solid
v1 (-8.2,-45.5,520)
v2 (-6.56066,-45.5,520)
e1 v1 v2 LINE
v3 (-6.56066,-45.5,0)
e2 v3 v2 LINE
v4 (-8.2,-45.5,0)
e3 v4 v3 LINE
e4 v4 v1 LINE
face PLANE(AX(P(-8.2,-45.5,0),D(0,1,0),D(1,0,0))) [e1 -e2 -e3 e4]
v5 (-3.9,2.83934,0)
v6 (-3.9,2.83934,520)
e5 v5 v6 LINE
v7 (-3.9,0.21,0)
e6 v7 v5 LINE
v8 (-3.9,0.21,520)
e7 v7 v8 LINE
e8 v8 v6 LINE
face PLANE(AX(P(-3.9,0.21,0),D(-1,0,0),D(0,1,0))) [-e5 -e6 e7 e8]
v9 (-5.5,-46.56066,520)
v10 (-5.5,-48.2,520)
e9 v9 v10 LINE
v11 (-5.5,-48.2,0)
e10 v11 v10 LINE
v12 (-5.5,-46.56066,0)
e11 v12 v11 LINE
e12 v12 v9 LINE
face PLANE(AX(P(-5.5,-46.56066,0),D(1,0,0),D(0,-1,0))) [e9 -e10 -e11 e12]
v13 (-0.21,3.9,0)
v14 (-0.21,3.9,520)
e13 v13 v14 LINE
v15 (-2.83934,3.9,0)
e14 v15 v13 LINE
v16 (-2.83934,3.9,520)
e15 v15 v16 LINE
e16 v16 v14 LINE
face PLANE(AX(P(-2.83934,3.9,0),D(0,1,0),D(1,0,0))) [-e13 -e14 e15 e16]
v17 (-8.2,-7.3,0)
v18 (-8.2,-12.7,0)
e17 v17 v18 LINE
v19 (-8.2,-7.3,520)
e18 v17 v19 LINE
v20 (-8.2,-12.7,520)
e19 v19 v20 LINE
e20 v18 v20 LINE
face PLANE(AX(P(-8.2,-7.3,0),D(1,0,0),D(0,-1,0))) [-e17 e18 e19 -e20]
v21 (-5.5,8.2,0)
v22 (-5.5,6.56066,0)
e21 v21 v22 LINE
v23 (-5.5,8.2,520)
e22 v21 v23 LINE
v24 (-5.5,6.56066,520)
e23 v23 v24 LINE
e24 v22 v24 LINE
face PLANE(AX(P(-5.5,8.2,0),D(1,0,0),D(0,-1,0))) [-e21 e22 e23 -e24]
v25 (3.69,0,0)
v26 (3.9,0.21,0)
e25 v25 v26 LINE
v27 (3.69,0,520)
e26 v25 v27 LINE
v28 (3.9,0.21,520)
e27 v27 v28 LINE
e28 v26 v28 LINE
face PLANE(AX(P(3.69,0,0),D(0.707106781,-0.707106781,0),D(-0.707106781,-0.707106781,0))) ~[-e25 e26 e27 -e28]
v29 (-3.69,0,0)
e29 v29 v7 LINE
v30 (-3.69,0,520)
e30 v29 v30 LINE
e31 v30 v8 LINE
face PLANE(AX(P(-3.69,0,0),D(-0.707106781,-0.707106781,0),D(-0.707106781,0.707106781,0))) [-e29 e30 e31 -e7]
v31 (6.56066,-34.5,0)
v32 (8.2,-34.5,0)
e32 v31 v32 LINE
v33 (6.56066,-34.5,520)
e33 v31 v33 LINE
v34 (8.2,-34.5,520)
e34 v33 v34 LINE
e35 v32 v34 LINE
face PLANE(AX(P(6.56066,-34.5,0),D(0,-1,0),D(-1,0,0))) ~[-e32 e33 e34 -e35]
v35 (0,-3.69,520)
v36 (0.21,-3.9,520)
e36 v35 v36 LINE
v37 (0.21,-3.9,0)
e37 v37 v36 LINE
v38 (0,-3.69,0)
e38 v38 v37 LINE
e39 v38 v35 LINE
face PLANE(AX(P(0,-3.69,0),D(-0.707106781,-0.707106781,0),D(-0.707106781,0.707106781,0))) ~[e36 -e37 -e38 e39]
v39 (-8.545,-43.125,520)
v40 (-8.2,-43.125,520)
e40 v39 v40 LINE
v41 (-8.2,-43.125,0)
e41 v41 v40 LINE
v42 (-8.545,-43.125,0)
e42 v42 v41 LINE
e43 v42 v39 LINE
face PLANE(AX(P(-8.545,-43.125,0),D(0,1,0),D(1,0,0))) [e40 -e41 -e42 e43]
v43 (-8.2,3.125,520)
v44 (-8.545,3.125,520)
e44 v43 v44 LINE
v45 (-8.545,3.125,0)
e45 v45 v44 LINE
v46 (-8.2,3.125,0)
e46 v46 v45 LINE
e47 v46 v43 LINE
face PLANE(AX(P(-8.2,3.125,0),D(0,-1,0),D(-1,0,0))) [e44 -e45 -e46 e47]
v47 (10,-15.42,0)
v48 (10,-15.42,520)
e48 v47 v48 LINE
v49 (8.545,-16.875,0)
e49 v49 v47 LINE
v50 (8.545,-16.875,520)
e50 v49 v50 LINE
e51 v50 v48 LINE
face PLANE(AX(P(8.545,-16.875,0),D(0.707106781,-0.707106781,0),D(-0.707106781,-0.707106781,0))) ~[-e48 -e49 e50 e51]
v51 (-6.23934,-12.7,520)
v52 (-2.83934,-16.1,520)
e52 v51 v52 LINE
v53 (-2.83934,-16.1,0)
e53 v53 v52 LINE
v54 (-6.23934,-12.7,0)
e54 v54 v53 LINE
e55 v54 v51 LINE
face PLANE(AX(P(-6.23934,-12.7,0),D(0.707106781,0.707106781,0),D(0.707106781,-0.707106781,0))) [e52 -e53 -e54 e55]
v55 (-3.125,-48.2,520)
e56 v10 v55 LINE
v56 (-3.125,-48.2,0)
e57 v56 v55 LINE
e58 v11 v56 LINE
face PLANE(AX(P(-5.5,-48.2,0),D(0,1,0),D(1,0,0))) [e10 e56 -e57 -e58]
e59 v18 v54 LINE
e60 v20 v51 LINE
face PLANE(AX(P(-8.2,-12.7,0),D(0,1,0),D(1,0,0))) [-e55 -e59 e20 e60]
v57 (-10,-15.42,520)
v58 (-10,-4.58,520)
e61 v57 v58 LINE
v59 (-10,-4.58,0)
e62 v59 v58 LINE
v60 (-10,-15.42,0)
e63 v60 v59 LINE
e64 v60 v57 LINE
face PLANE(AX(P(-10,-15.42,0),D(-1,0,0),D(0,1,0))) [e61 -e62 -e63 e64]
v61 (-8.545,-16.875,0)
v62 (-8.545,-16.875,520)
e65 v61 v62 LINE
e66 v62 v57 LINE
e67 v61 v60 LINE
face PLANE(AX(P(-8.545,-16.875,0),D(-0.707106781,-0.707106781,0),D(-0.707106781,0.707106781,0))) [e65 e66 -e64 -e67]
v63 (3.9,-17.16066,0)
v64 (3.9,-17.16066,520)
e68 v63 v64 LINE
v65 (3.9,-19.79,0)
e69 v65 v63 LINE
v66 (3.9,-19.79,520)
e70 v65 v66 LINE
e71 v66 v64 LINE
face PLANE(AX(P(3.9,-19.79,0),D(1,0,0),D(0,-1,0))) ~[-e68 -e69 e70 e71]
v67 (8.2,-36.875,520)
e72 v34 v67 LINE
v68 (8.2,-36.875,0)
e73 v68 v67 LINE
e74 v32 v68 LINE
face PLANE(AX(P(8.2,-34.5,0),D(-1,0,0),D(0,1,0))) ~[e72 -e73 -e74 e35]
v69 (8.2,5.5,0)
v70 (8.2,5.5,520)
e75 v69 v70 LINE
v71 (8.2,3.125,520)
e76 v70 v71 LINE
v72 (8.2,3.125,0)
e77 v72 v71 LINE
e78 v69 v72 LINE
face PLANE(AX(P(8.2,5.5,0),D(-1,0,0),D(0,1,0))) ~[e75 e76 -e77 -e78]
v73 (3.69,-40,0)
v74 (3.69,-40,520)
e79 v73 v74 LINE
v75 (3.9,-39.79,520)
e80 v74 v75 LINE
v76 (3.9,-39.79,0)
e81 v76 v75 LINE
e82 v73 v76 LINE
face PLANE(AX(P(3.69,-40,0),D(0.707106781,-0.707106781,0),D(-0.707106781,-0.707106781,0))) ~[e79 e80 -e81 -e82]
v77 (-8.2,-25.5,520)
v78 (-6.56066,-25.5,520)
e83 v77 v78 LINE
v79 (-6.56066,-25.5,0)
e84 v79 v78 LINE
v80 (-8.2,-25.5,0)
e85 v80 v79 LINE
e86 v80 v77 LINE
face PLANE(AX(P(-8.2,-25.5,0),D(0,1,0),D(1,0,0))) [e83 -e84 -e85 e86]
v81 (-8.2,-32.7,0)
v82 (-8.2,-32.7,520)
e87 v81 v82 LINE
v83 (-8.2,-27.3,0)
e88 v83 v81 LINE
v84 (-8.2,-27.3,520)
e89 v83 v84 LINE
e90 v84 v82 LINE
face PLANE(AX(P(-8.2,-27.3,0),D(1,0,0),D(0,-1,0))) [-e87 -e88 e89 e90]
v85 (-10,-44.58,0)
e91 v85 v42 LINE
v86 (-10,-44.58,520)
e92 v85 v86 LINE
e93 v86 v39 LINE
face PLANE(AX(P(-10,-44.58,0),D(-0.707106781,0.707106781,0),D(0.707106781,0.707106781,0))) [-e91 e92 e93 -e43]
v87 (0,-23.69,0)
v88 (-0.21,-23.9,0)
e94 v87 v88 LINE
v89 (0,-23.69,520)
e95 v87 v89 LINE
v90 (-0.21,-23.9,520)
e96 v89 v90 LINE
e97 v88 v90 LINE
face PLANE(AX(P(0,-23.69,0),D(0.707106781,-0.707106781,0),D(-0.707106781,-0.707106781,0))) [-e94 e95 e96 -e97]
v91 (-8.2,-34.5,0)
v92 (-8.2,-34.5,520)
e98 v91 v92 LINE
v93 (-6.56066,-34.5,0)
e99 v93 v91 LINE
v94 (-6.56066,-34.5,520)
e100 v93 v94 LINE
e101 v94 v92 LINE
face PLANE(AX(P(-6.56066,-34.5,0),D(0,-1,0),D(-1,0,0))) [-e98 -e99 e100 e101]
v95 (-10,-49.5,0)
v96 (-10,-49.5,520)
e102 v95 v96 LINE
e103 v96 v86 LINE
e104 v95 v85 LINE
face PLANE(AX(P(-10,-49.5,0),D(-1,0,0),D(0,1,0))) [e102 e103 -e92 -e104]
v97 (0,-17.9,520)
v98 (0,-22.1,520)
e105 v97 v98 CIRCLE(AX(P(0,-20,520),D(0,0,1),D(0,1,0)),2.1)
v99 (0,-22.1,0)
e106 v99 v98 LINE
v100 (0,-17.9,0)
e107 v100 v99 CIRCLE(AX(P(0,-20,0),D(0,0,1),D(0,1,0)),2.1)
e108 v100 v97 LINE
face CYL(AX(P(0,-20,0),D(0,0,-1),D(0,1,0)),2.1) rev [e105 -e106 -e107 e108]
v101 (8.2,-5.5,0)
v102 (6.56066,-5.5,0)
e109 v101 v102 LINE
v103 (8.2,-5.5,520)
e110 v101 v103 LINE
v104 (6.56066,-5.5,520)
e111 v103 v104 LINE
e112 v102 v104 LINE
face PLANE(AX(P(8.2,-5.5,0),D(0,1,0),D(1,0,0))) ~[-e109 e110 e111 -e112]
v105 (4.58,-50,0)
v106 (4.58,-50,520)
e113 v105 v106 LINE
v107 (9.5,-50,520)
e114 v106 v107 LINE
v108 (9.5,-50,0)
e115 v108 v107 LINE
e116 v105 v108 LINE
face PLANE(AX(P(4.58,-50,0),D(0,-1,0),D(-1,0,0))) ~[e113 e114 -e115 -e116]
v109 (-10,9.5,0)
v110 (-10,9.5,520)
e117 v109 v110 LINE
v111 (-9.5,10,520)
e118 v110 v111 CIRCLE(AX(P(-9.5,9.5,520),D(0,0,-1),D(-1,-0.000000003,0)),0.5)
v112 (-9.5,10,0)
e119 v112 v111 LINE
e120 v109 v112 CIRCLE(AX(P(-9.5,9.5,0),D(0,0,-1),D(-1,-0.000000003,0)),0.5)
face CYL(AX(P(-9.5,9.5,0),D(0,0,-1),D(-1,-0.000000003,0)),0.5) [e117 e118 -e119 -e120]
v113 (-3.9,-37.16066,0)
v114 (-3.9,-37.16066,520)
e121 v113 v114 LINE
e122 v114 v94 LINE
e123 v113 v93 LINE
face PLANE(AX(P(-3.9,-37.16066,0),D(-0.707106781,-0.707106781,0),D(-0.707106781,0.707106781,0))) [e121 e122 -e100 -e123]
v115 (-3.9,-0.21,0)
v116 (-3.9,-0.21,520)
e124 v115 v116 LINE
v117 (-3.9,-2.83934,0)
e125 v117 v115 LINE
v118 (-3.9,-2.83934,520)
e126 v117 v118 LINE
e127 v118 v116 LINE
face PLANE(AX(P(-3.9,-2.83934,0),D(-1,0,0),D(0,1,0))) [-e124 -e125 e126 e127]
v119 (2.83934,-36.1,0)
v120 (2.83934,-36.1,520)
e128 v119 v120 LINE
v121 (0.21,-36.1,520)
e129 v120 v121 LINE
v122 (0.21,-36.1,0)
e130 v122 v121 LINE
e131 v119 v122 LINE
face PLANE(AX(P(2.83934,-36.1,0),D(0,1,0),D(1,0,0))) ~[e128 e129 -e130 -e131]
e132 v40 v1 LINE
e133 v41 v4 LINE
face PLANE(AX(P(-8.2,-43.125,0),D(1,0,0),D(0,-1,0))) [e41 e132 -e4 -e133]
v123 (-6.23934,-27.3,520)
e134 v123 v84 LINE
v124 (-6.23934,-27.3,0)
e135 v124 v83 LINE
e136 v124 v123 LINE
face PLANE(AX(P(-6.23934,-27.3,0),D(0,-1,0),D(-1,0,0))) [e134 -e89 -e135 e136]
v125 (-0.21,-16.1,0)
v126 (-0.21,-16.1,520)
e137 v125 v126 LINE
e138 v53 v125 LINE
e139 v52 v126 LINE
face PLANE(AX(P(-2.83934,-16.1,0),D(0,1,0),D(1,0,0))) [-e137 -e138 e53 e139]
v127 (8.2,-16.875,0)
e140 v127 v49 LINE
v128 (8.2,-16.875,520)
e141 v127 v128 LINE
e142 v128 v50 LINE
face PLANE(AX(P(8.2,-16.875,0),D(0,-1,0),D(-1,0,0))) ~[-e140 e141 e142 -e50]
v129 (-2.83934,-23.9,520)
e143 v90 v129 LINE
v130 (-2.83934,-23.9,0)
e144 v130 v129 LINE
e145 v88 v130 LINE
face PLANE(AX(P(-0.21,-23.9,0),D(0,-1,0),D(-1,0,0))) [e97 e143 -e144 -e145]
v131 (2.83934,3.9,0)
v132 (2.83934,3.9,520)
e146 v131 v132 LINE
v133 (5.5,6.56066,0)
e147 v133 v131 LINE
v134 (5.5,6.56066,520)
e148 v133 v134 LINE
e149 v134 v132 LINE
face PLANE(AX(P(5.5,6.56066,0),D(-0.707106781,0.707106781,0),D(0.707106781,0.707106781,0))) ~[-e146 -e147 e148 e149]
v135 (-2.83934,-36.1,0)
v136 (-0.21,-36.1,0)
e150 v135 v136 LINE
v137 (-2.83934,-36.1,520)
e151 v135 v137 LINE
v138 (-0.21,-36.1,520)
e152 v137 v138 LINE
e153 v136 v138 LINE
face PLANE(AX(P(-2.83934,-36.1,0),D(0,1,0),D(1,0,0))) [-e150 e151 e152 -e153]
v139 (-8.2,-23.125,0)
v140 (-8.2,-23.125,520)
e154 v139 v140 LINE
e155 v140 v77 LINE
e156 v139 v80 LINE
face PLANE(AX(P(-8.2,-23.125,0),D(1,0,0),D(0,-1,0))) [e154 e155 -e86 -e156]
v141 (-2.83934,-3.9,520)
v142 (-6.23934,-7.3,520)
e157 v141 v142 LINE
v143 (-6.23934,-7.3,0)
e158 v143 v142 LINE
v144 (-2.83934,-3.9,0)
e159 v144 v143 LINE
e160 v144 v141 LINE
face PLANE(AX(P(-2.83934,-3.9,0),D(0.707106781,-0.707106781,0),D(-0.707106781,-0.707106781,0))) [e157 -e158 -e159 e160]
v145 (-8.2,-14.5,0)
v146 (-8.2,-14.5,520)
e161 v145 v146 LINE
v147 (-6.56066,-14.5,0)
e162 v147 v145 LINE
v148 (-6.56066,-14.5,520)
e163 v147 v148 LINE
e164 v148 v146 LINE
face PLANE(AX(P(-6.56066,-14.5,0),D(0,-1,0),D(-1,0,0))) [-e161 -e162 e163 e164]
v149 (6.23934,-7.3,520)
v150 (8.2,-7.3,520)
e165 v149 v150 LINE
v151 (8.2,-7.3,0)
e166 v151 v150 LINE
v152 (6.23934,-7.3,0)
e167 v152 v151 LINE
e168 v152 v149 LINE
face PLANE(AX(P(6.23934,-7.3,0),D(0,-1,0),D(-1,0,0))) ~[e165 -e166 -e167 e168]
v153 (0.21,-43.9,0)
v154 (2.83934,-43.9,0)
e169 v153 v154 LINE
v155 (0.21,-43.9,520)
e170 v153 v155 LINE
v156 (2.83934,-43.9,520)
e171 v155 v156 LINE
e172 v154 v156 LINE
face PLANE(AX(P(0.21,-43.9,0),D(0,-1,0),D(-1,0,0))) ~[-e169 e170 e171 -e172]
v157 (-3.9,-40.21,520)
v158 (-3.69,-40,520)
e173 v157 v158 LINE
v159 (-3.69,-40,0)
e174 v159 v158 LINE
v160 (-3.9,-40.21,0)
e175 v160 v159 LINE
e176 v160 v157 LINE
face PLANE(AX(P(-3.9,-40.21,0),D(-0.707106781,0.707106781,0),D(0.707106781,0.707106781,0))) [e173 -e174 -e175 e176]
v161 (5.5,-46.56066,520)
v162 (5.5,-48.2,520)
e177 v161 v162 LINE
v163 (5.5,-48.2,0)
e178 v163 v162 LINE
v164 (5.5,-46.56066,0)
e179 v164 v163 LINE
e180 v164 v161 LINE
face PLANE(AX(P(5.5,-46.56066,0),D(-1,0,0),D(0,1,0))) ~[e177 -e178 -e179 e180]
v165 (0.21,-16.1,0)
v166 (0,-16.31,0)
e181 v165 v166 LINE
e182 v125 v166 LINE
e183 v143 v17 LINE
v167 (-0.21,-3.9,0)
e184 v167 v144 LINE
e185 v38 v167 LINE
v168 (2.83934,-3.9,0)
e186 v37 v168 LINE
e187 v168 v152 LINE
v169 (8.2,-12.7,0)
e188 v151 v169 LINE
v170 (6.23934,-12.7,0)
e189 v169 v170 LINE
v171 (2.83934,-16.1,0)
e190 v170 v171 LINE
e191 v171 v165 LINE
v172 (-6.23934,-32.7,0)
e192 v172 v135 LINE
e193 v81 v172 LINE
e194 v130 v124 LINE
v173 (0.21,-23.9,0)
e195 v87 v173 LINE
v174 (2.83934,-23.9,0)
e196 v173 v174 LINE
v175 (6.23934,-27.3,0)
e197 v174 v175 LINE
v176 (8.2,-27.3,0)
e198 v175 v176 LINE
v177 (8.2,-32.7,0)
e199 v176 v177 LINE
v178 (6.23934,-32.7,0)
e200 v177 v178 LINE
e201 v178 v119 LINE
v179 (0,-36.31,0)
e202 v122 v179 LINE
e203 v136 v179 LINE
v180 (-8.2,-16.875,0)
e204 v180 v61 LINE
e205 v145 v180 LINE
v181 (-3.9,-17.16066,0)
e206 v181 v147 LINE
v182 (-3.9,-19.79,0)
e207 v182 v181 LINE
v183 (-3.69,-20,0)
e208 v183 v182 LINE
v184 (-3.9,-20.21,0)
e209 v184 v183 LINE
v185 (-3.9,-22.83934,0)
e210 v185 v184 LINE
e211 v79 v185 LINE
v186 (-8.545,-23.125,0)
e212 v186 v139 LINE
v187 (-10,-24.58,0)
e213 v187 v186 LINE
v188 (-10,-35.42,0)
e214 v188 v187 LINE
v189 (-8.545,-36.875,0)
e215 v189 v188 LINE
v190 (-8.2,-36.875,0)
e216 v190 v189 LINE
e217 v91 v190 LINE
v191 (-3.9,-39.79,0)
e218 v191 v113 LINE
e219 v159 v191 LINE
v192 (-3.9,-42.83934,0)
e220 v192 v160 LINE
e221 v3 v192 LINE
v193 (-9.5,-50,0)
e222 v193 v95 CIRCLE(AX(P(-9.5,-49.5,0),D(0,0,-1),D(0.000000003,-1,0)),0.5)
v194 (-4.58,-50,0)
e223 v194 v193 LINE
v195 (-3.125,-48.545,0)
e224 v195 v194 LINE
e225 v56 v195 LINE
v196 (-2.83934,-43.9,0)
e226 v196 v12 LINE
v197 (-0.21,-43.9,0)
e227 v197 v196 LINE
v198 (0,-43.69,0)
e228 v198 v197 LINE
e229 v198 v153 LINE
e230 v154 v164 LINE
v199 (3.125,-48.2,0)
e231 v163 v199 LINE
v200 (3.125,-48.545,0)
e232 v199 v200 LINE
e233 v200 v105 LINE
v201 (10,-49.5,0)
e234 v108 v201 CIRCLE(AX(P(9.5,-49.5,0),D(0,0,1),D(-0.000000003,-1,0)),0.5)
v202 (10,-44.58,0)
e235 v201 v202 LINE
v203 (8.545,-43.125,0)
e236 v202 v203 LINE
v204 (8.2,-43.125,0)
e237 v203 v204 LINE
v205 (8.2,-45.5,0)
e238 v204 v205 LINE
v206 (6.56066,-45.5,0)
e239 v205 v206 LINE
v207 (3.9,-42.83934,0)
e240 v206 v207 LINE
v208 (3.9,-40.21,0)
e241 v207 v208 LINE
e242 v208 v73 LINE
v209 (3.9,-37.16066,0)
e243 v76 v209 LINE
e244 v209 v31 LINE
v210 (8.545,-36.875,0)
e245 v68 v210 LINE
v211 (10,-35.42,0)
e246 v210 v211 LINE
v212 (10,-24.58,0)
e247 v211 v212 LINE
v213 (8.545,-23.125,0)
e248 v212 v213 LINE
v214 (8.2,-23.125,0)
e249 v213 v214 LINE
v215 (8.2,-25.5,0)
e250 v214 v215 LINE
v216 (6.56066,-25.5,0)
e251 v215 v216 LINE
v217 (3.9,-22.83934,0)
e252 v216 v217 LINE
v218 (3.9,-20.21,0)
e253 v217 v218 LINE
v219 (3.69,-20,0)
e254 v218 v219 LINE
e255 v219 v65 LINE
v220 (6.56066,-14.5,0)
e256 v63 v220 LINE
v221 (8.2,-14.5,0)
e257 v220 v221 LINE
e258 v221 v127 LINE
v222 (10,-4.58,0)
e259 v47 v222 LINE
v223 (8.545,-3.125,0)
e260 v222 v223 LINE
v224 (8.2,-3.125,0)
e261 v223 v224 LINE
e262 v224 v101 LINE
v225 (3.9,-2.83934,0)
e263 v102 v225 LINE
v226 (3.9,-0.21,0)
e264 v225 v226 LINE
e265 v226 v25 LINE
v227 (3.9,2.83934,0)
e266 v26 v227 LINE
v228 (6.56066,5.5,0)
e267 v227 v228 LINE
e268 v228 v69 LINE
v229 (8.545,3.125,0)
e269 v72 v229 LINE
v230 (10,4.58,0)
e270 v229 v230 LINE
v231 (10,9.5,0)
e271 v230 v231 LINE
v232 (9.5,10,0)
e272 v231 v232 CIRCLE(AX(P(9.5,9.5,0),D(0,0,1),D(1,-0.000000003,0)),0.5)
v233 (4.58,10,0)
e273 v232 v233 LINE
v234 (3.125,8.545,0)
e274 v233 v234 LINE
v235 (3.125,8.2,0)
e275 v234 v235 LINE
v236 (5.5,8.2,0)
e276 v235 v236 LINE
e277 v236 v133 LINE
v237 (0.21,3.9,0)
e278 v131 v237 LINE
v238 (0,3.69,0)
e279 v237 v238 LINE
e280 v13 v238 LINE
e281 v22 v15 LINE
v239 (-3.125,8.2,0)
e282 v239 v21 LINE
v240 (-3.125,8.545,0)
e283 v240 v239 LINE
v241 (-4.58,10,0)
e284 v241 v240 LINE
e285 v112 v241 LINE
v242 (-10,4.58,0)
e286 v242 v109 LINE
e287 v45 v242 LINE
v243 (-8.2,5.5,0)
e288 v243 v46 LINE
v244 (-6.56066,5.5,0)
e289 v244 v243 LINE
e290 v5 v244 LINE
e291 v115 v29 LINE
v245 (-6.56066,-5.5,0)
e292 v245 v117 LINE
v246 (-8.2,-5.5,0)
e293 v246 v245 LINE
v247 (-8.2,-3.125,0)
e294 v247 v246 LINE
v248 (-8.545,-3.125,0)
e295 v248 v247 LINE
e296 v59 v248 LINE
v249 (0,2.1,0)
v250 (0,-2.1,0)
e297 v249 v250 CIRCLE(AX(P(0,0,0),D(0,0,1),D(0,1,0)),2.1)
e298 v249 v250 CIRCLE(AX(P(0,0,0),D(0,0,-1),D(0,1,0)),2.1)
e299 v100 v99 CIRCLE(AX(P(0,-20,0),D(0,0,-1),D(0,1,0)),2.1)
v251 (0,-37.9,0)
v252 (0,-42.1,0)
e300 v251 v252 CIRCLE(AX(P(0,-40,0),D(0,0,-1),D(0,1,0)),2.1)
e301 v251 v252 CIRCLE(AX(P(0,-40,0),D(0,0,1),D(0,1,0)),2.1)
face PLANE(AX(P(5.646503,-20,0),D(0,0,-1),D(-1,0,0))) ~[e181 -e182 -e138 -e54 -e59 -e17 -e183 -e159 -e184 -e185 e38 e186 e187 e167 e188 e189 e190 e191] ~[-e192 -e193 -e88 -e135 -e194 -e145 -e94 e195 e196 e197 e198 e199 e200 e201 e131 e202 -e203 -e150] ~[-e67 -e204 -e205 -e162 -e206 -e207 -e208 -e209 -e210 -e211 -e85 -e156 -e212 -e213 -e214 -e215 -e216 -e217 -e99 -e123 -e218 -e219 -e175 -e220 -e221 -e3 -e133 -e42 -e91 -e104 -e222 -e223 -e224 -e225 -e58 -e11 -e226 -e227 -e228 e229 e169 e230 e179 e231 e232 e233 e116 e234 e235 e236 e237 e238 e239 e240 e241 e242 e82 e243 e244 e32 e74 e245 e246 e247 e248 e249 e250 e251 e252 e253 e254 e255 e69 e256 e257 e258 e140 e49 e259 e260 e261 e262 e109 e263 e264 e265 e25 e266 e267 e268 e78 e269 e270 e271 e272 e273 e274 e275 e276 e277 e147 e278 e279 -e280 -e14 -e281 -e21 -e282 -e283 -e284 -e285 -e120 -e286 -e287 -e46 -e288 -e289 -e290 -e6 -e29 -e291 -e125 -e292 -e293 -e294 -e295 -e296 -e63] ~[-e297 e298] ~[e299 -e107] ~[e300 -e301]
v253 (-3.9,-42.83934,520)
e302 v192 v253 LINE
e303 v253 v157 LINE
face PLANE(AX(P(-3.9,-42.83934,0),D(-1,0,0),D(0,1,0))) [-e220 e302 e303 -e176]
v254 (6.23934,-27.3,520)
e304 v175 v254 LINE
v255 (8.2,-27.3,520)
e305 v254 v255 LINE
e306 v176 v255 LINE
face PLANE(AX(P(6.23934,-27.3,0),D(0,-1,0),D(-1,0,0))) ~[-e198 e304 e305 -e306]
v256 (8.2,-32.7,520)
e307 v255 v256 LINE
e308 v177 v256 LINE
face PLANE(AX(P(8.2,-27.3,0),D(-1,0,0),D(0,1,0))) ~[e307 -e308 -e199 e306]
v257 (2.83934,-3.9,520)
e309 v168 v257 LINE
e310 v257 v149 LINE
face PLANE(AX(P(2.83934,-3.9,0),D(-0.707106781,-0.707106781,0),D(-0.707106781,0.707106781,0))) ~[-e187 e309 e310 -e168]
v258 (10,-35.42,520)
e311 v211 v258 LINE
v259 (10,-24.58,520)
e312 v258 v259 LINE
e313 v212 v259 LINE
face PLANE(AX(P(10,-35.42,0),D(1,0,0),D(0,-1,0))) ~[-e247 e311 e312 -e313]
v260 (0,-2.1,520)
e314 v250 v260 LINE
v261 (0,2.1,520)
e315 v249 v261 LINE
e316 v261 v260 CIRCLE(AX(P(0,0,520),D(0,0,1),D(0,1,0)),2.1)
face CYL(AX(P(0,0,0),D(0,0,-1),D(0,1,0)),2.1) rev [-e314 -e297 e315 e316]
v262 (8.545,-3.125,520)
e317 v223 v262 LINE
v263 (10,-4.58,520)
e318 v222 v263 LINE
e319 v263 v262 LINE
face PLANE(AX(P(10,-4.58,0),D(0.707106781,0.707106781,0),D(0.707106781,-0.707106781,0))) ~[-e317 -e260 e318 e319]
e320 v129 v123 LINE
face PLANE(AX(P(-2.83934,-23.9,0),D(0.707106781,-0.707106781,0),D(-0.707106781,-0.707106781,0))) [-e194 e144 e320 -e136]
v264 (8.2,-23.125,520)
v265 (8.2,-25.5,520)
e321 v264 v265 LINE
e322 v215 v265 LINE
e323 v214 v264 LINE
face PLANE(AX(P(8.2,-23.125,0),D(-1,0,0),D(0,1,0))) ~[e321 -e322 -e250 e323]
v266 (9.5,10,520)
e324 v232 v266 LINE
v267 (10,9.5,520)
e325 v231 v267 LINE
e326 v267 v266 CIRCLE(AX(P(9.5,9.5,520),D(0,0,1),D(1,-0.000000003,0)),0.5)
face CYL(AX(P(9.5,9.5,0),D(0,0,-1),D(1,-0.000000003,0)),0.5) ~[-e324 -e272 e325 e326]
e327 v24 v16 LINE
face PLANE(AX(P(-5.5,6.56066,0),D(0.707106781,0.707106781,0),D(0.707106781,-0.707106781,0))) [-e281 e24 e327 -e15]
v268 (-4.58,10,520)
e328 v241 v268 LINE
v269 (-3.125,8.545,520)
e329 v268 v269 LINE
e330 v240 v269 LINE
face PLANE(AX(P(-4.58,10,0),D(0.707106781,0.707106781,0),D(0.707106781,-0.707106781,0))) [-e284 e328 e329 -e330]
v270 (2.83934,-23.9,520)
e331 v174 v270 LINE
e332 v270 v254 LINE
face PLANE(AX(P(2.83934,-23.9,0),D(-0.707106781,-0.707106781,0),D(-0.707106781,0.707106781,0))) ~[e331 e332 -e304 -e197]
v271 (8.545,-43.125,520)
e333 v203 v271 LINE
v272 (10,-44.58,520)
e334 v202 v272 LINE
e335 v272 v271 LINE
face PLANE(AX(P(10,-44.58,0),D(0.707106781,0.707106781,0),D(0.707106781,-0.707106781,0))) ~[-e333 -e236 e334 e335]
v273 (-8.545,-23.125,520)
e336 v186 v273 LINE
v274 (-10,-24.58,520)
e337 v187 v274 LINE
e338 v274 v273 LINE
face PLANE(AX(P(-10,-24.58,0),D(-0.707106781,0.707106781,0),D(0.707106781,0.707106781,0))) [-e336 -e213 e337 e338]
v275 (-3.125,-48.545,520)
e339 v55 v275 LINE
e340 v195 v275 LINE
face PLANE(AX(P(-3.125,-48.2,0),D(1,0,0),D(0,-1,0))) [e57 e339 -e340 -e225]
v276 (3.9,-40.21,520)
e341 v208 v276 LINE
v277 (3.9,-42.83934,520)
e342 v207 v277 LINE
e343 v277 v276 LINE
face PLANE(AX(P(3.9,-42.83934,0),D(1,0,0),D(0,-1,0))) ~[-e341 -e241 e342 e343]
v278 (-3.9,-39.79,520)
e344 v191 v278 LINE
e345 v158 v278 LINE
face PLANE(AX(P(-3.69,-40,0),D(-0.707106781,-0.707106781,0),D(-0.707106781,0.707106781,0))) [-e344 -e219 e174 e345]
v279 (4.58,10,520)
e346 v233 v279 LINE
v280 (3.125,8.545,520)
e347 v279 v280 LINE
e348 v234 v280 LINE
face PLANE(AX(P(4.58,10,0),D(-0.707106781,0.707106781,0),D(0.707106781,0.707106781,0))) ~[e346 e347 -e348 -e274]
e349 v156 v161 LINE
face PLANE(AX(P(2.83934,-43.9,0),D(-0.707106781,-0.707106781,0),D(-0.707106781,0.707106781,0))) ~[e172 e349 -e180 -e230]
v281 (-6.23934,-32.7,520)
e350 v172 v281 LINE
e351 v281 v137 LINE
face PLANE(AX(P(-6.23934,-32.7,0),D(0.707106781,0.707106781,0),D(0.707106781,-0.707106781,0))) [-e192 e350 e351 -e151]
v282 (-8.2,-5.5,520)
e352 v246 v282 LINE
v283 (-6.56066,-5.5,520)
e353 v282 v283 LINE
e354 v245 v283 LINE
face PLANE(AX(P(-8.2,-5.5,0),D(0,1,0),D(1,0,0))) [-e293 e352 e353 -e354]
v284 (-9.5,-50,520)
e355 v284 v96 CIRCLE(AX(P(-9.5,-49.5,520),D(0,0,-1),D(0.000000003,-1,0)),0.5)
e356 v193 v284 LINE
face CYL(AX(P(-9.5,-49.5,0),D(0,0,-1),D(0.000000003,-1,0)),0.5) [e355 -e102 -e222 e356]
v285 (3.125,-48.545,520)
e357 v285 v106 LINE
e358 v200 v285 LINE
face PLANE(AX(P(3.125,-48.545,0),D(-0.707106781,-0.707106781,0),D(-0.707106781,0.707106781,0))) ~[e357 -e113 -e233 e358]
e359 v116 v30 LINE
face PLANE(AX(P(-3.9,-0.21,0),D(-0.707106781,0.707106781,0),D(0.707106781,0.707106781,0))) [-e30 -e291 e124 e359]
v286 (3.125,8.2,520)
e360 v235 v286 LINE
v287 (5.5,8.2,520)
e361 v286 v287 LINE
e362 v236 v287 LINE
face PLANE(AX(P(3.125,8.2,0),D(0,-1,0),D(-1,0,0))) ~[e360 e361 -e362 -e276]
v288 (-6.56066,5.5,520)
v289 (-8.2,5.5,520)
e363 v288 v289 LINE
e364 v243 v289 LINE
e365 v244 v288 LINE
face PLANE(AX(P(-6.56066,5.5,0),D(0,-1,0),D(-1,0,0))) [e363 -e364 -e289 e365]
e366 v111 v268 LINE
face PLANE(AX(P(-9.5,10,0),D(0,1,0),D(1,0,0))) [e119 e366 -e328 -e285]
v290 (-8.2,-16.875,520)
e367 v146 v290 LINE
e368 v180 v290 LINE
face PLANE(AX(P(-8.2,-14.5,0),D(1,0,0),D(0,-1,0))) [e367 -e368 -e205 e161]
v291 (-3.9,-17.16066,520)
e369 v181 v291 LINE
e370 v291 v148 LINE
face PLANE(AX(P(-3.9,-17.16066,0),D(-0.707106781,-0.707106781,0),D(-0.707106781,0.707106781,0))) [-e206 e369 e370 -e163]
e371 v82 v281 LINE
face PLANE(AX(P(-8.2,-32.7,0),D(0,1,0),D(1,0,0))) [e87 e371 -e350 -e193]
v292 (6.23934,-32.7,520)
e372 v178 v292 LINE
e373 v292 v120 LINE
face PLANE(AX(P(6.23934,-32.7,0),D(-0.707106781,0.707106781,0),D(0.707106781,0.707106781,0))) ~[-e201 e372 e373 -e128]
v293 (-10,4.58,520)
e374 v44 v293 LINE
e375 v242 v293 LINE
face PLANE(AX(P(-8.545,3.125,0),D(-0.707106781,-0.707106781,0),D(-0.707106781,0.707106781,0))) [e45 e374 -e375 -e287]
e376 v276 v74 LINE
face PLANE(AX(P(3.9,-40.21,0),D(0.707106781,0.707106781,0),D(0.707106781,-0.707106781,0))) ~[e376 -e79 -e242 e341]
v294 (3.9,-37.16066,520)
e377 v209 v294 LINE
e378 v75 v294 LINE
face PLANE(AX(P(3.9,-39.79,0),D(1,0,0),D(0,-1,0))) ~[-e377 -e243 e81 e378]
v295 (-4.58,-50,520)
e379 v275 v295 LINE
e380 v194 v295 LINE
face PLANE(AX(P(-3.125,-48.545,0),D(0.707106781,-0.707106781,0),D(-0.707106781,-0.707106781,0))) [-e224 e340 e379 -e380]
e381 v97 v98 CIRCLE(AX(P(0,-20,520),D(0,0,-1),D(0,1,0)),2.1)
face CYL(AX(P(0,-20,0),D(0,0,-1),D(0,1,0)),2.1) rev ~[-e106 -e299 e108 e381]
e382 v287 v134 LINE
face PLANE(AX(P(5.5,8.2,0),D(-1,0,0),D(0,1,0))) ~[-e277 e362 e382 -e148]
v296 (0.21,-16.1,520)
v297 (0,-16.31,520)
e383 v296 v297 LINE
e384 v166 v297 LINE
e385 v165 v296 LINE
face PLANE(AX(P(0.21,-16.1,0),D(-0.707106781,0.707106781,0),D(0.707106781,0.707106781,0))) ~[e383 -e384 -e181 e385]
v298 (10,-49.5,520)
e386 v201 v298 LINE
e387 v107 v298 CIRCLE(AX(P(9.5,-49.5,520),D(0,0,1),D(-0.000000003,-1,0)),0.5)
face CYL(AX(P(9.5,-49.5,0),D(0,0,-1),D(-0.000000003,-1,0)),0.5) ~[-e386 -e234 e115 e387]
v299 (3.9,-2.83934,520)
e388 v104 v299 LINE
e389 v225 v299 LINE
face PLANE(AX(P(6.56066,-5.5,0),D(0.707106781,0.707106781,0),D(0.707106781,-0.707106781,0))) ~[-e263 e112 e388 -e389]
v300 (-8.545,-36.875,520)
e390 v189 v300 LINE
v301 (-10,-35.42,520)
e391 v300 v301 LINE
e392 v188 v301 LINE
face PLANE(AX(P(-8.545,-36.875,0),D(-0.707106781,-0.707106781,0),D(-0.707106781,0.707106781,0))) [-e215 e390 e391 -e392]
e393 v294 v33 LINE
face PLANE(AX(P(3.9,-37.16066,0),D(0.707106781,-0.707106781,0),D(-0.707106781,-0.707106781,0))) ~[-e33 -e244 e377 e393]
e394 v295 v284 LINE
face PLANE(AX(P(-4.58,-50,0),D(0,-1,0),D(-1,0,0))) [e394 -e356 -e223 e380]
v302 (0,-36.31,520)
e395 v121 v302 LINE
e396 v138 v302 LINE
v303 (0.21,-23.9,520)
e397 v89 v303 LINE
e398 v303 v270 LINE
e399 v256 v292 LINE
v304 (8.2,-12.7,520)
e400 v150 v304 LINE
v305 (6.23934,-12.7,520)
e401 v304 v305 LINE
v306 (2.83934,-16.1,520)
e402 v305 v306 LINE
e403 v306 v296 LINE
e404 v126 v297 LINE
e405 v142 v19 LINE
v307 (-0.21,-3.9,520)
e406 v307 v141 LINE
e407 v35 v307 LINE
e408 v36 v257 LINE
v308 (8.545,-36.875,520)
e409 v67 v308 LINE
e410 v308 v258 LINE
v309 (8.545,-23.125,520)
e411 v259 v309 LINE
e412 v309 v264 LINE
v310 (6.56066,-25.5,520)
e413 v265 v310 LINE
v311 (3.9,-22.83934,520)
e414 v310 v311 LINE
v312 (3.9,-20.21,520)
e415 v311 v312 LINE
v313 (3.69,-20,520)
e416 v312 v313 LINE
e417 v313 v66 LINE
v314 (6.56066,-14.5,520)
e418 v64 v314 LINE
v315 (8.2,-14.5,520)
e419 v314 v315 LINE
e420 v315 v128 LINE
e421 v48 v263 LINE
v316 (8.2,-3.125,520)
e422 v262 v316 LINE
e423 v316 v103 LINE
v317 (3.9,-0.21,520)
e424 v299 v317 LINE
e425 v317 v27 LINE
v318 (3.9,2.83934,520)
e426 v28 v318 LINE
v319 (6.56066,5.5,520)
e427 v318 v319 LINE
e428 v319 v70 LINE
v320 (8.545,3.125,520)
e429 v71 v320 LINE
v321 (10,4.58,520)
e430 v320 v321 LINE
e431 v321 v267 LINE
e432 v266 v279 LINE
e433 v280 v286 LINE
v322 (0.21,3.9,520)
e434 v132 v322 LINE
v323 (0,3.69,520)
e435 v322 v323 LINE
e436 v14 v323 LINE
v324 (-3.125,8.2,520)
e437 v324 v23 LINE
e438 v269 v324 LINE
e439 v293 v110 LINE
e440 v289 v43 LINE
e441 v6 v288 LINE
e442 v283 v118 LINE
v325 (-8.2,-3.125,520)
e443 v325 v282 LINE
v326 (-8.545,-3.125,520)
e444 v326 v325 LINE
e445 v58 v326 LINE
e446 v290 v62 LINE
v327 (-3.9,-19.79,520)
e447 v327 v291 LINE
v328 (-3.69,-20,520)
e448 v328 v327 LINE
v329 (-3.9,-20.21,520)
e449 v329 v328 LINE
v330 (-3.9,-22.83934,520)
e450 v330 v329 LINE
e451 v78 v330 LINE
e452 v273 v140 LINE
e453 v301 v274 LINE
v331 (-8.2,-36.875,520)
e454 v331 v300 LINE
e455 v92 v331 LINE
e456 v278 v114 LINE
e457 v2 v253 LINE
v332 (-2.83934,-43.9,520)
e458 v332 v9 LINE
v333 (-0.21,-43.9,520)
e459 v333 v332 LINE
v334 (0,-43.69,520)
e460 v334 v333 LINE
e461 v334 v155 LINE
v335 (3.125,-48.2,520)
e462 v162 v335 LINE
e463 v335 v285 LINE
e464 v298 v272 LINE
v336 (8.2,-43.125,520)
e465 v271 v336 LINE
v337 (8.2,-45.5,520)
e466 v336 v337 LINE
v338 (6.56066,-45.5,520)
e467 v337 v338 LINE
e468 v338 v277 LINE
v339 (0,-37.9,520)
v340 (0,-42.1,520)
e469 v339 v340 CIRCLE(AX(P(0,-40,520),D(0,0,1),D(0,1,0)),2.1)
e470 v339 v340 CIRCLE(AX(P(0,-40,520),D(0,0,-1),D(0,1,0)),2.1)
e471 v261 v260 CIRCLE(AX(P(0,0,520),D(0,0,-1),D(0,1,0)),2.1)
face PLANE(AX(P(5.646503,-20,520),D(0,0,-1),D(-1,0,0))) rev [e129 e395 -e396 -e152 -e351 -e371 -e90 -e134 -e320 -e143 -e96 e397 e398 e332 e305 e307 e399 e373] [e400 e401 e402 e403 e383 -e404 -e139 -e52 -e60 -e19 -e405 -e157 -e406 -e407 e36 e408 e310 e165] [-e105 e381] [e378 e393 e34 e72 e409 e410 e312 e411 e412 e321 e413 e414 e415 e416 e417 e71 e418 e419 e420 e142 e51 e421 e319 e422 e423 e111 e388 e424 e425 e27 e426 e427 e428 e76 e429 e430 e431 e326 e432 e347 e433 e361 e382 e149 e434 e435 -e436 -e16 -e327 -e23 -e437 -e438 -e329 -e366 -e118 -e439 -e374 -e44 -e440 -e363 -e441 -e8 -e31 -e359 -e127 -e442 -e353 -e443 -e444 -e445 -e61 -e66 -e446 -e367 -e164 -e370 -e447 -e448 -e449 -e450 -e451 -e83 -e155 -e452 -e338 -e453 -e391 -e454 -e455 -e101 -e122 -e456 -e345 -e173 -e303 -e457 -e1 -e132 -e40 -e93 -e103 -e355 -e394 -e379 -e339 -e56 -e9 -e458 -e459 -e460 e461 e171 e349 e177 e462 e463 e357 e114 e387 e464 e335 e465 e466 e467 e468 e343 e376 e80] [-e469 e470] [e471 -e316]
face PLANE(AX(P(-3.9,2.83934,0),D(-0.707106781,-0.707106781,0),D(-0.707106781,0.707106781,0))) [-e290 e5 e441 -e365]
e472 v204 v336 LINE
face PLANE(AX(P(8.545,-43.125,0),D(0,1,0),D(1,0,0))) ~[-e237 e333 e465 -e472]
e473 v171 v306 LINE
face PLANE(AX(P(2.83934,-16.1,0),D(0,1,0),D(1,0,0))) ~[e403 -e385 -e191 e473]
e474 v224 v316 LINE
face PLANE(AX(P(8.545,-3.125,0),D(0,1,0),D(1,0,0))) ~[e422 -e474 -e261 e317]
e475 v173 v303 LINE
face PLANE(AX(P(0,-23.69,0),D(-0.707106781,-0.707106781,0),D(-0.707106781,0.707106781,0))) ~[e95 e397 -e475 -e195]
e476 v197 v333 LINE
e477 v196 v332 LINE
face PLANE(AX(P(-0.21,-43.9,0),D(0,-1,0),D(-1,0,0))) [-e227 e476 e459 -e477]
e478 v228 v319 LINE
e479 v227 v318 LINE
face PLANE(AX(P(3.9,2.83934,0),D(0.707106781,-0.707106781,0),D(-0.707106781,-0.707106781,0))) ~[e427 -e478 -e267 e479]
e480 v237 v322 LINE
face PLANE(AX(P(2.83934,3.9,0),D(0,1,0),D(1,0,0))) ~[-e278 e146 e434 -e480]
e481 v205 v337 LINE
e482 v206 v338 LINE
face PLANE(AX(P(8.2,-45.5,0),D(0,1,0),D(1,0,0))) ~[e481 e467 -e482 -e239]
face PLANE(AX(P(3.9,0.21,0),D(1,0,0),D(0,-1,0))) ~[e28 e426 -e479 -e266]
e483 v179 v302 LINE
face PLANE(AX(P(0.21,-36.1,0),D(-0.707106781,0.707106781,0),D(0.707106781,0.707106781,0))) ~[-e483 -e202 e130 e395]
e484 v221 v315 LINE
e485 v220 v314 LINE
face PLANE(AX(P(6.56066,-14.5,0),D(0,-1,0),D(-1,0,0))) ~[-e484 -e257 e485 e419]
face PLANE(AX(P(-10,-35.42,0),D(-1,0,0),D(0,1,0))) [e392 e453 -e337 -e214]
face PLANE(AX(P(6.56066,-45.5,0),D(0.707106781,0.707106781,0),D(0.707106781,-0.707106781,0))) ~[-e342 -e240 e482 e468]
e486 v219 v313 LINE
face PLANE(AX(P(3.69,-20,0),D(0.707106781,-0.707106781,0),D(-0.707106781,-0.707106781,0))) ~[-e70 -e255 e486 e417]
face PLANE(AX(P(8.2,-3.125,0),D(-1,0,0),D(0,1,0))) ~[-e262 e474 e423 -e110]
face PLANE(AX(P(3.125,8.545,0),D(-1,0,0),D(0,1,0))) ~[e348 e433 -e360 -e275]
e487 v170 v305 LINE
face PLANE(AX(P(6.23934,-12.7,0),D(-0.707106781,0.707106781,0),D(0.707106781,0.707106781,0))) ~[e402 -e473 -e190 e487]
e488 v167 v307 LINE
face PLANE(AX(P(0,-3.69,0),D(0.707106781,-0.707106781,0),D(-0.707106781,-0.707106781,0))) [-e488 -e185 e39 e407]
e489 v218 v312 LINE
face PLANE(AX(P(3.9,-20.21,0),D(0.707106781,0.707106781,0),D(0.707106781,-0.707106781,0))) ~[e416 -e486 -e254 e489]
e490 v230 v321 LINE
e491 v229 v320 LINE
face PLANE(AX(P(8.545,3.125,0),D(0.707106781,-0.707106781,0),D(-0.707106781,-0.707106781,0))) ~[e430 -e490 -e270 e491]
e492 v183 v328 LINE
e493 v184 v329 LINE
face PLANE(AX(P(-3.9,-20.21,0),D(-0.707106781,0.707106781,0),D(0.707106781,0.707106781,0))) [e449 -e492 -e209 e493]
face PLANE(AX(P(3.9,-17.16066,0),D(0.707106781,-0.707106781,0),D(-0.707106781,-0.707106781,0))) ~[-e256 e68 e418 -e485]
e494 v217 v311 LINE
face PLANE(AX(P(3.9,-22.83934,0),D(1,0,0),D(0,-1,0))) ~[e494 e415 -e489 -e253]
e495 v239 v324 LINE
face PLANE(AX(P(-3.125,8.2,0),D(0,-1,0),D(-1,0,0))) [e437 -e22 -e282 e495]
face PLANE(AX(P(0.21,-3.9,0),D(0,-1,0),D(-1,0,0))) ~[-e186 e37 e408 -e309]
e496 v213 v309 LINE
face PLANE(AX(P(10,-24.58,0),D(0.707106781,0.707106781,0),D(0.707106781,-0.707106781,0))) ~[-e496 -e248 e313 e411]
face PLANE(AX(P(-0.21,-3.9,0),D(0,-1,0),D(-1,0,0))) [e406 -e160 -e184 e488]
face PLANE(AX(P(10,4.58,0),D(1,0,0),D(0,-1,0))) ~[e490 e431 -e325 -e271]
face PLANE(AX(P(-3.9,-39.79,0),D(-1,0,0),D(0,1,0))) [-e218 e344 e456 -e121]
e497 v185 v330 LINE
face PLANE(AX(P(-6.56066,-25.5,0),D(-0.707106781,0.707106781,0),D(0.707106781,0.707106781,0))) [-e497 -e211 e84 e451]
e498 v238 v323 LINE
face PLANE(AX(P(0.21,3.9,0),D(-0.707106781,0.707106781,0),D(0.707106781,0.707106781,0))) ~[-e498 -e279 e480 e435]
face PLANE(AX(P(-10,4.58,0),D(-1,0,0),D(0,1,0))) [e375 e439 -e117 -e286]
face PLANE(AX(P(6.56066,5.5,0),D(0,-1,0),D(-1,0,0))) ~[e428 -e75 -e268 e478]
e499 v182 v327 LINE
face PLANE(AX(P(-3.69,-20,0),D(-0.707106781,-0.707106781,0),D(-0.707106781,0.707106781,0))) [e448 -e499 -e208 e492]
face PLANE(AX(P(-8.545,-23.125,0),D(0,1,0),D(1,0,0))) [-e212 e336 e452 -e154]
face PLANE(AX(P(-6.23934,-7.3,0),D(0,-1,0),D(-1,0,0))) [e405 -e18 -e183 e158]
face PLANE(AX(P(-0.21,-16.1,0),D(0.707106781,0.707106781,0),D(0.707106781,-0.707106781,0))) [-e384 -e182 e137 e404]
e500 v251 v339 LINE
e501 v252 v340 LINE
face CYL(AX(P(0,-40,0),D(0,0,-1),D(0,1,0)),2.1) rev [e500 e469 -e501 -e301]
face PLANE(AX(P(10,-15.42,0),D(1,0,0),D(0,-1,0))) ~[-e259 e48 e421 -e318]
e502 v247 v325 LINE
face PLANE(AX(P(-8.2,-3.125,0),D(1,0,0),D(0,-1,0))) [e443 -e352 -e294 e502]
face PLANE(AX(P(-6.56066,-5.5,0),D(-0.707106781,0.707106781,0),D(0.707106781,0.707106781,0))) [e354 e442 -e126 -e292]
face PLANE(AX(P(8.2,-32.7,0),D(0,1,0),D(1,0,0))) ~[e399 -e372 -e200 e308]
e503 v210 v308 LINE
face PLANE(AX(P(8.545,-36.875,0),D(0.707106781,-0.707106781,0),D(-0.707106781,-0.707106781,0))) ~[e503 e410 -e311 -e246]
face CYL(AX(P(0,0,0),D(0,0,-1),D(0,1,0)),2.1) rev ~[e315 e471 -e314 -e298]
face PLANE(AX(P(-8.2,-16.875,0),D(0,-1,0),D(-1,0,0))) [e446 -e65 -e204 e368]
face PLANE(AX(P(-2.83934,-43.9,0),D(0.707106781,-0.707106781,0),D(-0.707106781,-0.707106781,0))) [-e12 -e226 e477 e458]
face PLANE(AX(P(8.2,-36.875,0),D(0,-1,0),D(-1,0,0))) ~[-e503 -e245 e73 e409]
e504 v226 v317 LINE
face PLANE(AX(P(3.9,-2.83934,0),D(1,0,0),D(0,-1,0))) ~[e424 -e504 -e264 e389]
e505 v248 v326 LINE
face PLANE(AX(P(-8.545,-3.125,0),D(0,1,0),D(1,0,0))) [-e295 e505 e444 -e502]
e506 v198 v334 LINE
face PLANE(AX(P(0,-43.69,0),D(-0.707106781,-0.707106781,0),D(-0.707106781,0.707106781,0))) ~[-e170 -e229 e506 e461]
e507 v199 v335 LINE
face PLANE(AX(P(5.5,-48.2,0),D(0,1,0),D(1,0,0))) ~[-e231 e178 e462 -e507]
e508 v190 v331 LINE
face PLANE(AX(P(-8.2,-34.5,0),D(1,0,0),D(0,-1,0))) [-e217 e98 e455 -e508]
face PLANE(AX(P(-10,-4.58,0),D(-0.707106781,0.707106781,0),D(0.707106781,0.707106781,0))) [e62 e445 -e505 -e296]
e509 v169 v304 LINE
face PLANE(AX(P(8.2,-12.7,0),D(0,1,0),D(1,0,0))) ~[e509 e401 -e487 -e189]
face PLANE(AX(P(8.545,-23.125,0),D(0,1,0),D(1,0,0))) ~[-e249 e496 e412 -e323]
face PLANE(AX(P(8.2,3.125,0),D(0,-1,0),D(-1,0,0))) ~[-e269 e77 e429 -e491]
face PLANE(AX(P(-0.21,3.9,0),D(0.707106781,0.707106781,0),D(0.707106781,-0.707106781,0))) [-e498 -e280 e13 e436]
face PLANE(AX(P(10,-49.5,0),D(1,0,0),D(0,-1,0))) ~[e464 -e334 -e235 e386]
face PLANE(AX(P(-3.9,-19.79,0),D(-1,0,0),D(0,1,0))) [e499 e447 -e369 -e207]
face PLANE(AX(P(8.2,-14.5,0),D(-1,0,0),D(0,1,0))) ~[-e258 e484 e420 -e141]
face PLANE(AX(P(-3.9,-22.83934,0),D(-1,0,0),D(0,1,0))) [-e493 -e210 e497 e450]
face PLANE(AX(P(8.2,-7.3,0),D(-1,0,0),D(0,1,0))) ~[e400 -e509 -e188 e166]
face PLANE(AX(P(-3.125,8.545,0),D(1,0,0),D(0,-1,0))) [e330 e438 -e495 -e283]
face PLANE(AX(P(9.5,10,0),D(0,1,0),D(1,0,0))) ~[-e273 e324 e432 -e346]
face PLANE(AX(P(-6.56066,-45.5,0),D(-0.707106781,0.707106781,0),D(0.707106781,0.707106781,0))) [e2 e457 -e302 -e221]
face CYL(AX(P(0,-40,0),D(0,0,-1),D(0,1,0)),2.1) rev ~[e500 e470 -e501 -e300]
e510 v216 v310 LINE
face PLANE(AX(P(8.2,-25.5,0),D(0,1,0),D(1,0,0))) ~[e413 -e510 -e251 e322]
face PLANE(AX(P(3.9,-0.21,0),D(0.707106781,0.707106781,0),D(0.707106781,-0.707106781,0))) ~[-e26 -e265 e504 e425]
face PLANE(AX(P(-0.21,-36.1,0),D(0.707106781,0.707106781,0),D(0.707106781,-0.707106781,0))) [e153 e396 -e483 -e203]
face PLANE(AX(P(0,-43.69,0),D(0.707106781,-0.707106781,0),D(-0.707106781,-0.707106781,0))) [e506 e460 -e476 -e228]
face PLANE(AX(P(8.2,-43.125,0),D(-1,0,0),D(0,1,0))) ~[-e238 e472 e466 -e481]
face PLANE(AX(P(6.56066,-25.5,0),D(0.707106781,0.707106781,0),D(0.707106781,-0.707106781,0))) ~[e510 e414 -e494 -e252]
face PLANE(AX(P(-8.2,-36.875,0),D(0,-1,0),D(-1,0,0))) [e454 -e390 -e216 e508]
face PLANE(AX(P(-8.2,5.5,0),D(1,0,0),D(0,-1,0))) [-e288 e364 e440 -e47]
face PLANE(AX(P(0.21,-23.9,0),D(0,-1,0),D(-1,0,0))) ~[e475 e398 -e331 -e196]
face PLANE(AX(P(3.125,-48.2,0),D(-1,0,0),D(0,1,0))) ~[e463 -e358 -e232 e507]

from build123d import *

# Parameters (mm, degrees)
BOSS_EXTRU_1_DEPTH = 520


with BuildPart() as part:
    # Esquisse1 → Boss.-Extru.1 (new body)
    with BuildSketch(Plane.XY):
        with BuildLine():
            Line((-9.5, 10), (-4.58, 10))
            Line((-4.58, 10), (-3.125, 8.545))
            Line((-3.125, 8.545), (-3.125, 8.2))
            Line((-3.125, 8.2), (-5.5, 8.2))
            Line((-5.5, 8.2), (-5.5, 6.560660172))
            Line((-5.5, 6.560660172), (-2.839339828, 3.9))
            Line((-2.839339828, 3.9), (-0.21, 3.9))
            Line((-0.21, 3.9), (0, 3.69))
            Line((0, 3.69), (0, 2.1))
            ThreePointArc((0, 2.1), (-2.1, 0), (0, -2.1))
            Line((0, -2.1), (0, -3.69))
            Line((0, -3.69), (-0.21, -3.9))
            Line((-0.21, -3.9), (-2.839339828, -3.9))
            Line((-2.839339828, -3.9), (-6.239339828, -7.3))
            Line((-6.239339828, -7.3), (-8.2, -7.3))
            Line((-8.2, -7.3), (-8.2, -12.7))
            Line((-8.2, -12.7), (-6.239339828, -12.7))
            Line((-6.239339828, -12.7), (-2.839339828, -16.1))
            Line((-2.839339828, -16.1), (-0.21, -16.1))
            Line((-0.21, -16.1), (0, -16.31))
            Line((0, -16.31), (0, -17.9))
            ThreePointArc((0, -17.9), (-2.1, -20), (0, -22.1))
            Line((0, -22.1), (0, -23.69))
            Line((0, -23.69), (-0.21, -23.9))
            Line((-0.21, -23.9), (-2.839339828, -23.9))
            Line((-2.839339828, -23.9), (-6.239339828, -27.3))
            Line((-6.239339828, -27.3), (-8.2, -27.3))
            Line((-8.2, -27.3), (-8.2, -32.7))
            Line((-8.2, -32.7), (-6.239339828, -32.7))
            Line((-6.239339828, -32.7), (-2.839339828, -36.1))
            Line((-2.839339828, -36.1), (-0.21, -36.1))
            Line((-0.21, -36.1), (0, -36.31))
            Line((0, -36.31), (0, -37.9))
            ThreePointArc((0, -37.9), (-2.1, -40), (0, -42.1))
            Line((0, -42.1), (0, -43.69))
            Line((0, -43.69), (-0.21, -43.9))
            Line((-0.21, -43.9), (-2.839339828, -43.9))
            Line((-2.839339828, -43.9), (-5.5, -46.560660172))
            Line((-5.5, -46.560660172), (-5.5, -48.2))
            Line((-5.5, -48.2), (-3.125, -48.2))
            Line((-3.125, -48.2), (-3.125, -48.545))
            Line((-3.125, -48.545), (-4.58, -50))
            Line((-4.58, -50), (-9.5, -50))
            ThreePointArc((-9.5, -50), (-9.853553391, -49.853553391), (-10, -49.5))
            Line((-10, -49.5), (-10, -44.58))
            Line((-10, -44.58), (-8.545, -43.125))
            Line((-8.545, -43.125), (-8.2, -43.125))
            Line((-8.2, -43.125), (-8.2, -45.5))
            Line((-8.2, -45.5), (-6.560660172, -45.5))
            Line((-6.560660172, -45.5), (-3.9, -42.839339828))
            Line((-3.9, -42.839339828), (-3.9, -40.21))
            Line((-3.9, -40.21), (-3.69, -40))
            Line((-3.69, -40), (-3.9, -39.79))
            Line((-3.9, -39.79), (-3.9, -37.160660172))
            Line((-3.9, -37.160660172), (-6.560660172, -34.5))
            Line((-6.560660172, -34.5), (-8.2, -34.5))
            Line((-8.2, -34.5), (-8.2, -36.875))
            Line((-8.2, -36.875), (-8.545, -36.875))
            Line((-8.545, -36.875), (-10, -35.42))
            Line((-10, -35.42), (-10, -24.58))
            Line((-10, -24.58), (-8.545, -23.125))
            Line((-8.545, -23.125), (-8.2, -23.125))
            Line((-8.2, -23.125), (-8.2, -25.5))
            Line((-8.2, -25.5), (-6.560660172, -25.5))
            Line((-6.560660172, -25.5), (-3.9, -22.839339828))
            Line((-3.9, -22.839339828), (-3.9, -20.21))
            Line((-3.9, -20.21), (-3.69, -20))
            Line((-3.69, -20), (-3.9, -19.79))
            Line((-3.9, -19.79), (-3.9, -17.160660172))
            Line((-3.9, -17.160660172), (-6.560660172, -14.5))
            Line((-6.560660172, -14.5), (-8.2, -14.5))
            Line((-8.2, -14.5), (-8.2, -16.875))
            Line((-8.2, -16.875), (-8.545, -16.875))
            Line((-8.545, -16.875), (-10, -15.42))
            Line((-10, -15.42), (-10, -4.58))
            Line((-10, -4.58), (-8.545, -3.125))
            Line((-8.545, -3.125), (-8.2, -3.125))
            Line((-8.2, -3.125), (-8.2, -5.5))
            Line((-8.2, -5.5), (-6.560660172, -5.5))
            Line((-6.560660172, -5.5), (-3.9, -2.839339828))
            Line((-3.9, -2.839339828), (-3.9, -0.21))
            Line((-3.9, -0.21), (-3.69, 0))
            Line((-3.69, 0), (-3.9, 0.21))
            Line((-3.9, 0.21), (-3.9, 2.839339828))
            Line((-3.9, 2.839339828), (-6.560660172, 5.5))
            Line((-6.560660172, 5.5), (-8.2, 5.5))
            Line((-8.2, 5.5), (-8.2, 3.125))
            Line((-8.2, 3.125), (-8.545, 3.125))
            Line((-8.545, 3.125), (-10, 4.58))
            Line((-10, 4.58), (-10, 9.5))
            ThreePointArc((-10, 9.5), (-9.853553391, 9.853553391), (-9.5, 10))
        make_face()
    boss_extru_1 = extrude(amount=BOSS_EXTRU_1_DEPTH)

    # Symétrie1: Boss.-Extru.1 across plane
    add(boss_extru_1.mirror(Plane(origin=(0, 3.69, 520), x_dir=(0, 0, 1), z_dir=(-1, 0, 0))))


solid = part.part
